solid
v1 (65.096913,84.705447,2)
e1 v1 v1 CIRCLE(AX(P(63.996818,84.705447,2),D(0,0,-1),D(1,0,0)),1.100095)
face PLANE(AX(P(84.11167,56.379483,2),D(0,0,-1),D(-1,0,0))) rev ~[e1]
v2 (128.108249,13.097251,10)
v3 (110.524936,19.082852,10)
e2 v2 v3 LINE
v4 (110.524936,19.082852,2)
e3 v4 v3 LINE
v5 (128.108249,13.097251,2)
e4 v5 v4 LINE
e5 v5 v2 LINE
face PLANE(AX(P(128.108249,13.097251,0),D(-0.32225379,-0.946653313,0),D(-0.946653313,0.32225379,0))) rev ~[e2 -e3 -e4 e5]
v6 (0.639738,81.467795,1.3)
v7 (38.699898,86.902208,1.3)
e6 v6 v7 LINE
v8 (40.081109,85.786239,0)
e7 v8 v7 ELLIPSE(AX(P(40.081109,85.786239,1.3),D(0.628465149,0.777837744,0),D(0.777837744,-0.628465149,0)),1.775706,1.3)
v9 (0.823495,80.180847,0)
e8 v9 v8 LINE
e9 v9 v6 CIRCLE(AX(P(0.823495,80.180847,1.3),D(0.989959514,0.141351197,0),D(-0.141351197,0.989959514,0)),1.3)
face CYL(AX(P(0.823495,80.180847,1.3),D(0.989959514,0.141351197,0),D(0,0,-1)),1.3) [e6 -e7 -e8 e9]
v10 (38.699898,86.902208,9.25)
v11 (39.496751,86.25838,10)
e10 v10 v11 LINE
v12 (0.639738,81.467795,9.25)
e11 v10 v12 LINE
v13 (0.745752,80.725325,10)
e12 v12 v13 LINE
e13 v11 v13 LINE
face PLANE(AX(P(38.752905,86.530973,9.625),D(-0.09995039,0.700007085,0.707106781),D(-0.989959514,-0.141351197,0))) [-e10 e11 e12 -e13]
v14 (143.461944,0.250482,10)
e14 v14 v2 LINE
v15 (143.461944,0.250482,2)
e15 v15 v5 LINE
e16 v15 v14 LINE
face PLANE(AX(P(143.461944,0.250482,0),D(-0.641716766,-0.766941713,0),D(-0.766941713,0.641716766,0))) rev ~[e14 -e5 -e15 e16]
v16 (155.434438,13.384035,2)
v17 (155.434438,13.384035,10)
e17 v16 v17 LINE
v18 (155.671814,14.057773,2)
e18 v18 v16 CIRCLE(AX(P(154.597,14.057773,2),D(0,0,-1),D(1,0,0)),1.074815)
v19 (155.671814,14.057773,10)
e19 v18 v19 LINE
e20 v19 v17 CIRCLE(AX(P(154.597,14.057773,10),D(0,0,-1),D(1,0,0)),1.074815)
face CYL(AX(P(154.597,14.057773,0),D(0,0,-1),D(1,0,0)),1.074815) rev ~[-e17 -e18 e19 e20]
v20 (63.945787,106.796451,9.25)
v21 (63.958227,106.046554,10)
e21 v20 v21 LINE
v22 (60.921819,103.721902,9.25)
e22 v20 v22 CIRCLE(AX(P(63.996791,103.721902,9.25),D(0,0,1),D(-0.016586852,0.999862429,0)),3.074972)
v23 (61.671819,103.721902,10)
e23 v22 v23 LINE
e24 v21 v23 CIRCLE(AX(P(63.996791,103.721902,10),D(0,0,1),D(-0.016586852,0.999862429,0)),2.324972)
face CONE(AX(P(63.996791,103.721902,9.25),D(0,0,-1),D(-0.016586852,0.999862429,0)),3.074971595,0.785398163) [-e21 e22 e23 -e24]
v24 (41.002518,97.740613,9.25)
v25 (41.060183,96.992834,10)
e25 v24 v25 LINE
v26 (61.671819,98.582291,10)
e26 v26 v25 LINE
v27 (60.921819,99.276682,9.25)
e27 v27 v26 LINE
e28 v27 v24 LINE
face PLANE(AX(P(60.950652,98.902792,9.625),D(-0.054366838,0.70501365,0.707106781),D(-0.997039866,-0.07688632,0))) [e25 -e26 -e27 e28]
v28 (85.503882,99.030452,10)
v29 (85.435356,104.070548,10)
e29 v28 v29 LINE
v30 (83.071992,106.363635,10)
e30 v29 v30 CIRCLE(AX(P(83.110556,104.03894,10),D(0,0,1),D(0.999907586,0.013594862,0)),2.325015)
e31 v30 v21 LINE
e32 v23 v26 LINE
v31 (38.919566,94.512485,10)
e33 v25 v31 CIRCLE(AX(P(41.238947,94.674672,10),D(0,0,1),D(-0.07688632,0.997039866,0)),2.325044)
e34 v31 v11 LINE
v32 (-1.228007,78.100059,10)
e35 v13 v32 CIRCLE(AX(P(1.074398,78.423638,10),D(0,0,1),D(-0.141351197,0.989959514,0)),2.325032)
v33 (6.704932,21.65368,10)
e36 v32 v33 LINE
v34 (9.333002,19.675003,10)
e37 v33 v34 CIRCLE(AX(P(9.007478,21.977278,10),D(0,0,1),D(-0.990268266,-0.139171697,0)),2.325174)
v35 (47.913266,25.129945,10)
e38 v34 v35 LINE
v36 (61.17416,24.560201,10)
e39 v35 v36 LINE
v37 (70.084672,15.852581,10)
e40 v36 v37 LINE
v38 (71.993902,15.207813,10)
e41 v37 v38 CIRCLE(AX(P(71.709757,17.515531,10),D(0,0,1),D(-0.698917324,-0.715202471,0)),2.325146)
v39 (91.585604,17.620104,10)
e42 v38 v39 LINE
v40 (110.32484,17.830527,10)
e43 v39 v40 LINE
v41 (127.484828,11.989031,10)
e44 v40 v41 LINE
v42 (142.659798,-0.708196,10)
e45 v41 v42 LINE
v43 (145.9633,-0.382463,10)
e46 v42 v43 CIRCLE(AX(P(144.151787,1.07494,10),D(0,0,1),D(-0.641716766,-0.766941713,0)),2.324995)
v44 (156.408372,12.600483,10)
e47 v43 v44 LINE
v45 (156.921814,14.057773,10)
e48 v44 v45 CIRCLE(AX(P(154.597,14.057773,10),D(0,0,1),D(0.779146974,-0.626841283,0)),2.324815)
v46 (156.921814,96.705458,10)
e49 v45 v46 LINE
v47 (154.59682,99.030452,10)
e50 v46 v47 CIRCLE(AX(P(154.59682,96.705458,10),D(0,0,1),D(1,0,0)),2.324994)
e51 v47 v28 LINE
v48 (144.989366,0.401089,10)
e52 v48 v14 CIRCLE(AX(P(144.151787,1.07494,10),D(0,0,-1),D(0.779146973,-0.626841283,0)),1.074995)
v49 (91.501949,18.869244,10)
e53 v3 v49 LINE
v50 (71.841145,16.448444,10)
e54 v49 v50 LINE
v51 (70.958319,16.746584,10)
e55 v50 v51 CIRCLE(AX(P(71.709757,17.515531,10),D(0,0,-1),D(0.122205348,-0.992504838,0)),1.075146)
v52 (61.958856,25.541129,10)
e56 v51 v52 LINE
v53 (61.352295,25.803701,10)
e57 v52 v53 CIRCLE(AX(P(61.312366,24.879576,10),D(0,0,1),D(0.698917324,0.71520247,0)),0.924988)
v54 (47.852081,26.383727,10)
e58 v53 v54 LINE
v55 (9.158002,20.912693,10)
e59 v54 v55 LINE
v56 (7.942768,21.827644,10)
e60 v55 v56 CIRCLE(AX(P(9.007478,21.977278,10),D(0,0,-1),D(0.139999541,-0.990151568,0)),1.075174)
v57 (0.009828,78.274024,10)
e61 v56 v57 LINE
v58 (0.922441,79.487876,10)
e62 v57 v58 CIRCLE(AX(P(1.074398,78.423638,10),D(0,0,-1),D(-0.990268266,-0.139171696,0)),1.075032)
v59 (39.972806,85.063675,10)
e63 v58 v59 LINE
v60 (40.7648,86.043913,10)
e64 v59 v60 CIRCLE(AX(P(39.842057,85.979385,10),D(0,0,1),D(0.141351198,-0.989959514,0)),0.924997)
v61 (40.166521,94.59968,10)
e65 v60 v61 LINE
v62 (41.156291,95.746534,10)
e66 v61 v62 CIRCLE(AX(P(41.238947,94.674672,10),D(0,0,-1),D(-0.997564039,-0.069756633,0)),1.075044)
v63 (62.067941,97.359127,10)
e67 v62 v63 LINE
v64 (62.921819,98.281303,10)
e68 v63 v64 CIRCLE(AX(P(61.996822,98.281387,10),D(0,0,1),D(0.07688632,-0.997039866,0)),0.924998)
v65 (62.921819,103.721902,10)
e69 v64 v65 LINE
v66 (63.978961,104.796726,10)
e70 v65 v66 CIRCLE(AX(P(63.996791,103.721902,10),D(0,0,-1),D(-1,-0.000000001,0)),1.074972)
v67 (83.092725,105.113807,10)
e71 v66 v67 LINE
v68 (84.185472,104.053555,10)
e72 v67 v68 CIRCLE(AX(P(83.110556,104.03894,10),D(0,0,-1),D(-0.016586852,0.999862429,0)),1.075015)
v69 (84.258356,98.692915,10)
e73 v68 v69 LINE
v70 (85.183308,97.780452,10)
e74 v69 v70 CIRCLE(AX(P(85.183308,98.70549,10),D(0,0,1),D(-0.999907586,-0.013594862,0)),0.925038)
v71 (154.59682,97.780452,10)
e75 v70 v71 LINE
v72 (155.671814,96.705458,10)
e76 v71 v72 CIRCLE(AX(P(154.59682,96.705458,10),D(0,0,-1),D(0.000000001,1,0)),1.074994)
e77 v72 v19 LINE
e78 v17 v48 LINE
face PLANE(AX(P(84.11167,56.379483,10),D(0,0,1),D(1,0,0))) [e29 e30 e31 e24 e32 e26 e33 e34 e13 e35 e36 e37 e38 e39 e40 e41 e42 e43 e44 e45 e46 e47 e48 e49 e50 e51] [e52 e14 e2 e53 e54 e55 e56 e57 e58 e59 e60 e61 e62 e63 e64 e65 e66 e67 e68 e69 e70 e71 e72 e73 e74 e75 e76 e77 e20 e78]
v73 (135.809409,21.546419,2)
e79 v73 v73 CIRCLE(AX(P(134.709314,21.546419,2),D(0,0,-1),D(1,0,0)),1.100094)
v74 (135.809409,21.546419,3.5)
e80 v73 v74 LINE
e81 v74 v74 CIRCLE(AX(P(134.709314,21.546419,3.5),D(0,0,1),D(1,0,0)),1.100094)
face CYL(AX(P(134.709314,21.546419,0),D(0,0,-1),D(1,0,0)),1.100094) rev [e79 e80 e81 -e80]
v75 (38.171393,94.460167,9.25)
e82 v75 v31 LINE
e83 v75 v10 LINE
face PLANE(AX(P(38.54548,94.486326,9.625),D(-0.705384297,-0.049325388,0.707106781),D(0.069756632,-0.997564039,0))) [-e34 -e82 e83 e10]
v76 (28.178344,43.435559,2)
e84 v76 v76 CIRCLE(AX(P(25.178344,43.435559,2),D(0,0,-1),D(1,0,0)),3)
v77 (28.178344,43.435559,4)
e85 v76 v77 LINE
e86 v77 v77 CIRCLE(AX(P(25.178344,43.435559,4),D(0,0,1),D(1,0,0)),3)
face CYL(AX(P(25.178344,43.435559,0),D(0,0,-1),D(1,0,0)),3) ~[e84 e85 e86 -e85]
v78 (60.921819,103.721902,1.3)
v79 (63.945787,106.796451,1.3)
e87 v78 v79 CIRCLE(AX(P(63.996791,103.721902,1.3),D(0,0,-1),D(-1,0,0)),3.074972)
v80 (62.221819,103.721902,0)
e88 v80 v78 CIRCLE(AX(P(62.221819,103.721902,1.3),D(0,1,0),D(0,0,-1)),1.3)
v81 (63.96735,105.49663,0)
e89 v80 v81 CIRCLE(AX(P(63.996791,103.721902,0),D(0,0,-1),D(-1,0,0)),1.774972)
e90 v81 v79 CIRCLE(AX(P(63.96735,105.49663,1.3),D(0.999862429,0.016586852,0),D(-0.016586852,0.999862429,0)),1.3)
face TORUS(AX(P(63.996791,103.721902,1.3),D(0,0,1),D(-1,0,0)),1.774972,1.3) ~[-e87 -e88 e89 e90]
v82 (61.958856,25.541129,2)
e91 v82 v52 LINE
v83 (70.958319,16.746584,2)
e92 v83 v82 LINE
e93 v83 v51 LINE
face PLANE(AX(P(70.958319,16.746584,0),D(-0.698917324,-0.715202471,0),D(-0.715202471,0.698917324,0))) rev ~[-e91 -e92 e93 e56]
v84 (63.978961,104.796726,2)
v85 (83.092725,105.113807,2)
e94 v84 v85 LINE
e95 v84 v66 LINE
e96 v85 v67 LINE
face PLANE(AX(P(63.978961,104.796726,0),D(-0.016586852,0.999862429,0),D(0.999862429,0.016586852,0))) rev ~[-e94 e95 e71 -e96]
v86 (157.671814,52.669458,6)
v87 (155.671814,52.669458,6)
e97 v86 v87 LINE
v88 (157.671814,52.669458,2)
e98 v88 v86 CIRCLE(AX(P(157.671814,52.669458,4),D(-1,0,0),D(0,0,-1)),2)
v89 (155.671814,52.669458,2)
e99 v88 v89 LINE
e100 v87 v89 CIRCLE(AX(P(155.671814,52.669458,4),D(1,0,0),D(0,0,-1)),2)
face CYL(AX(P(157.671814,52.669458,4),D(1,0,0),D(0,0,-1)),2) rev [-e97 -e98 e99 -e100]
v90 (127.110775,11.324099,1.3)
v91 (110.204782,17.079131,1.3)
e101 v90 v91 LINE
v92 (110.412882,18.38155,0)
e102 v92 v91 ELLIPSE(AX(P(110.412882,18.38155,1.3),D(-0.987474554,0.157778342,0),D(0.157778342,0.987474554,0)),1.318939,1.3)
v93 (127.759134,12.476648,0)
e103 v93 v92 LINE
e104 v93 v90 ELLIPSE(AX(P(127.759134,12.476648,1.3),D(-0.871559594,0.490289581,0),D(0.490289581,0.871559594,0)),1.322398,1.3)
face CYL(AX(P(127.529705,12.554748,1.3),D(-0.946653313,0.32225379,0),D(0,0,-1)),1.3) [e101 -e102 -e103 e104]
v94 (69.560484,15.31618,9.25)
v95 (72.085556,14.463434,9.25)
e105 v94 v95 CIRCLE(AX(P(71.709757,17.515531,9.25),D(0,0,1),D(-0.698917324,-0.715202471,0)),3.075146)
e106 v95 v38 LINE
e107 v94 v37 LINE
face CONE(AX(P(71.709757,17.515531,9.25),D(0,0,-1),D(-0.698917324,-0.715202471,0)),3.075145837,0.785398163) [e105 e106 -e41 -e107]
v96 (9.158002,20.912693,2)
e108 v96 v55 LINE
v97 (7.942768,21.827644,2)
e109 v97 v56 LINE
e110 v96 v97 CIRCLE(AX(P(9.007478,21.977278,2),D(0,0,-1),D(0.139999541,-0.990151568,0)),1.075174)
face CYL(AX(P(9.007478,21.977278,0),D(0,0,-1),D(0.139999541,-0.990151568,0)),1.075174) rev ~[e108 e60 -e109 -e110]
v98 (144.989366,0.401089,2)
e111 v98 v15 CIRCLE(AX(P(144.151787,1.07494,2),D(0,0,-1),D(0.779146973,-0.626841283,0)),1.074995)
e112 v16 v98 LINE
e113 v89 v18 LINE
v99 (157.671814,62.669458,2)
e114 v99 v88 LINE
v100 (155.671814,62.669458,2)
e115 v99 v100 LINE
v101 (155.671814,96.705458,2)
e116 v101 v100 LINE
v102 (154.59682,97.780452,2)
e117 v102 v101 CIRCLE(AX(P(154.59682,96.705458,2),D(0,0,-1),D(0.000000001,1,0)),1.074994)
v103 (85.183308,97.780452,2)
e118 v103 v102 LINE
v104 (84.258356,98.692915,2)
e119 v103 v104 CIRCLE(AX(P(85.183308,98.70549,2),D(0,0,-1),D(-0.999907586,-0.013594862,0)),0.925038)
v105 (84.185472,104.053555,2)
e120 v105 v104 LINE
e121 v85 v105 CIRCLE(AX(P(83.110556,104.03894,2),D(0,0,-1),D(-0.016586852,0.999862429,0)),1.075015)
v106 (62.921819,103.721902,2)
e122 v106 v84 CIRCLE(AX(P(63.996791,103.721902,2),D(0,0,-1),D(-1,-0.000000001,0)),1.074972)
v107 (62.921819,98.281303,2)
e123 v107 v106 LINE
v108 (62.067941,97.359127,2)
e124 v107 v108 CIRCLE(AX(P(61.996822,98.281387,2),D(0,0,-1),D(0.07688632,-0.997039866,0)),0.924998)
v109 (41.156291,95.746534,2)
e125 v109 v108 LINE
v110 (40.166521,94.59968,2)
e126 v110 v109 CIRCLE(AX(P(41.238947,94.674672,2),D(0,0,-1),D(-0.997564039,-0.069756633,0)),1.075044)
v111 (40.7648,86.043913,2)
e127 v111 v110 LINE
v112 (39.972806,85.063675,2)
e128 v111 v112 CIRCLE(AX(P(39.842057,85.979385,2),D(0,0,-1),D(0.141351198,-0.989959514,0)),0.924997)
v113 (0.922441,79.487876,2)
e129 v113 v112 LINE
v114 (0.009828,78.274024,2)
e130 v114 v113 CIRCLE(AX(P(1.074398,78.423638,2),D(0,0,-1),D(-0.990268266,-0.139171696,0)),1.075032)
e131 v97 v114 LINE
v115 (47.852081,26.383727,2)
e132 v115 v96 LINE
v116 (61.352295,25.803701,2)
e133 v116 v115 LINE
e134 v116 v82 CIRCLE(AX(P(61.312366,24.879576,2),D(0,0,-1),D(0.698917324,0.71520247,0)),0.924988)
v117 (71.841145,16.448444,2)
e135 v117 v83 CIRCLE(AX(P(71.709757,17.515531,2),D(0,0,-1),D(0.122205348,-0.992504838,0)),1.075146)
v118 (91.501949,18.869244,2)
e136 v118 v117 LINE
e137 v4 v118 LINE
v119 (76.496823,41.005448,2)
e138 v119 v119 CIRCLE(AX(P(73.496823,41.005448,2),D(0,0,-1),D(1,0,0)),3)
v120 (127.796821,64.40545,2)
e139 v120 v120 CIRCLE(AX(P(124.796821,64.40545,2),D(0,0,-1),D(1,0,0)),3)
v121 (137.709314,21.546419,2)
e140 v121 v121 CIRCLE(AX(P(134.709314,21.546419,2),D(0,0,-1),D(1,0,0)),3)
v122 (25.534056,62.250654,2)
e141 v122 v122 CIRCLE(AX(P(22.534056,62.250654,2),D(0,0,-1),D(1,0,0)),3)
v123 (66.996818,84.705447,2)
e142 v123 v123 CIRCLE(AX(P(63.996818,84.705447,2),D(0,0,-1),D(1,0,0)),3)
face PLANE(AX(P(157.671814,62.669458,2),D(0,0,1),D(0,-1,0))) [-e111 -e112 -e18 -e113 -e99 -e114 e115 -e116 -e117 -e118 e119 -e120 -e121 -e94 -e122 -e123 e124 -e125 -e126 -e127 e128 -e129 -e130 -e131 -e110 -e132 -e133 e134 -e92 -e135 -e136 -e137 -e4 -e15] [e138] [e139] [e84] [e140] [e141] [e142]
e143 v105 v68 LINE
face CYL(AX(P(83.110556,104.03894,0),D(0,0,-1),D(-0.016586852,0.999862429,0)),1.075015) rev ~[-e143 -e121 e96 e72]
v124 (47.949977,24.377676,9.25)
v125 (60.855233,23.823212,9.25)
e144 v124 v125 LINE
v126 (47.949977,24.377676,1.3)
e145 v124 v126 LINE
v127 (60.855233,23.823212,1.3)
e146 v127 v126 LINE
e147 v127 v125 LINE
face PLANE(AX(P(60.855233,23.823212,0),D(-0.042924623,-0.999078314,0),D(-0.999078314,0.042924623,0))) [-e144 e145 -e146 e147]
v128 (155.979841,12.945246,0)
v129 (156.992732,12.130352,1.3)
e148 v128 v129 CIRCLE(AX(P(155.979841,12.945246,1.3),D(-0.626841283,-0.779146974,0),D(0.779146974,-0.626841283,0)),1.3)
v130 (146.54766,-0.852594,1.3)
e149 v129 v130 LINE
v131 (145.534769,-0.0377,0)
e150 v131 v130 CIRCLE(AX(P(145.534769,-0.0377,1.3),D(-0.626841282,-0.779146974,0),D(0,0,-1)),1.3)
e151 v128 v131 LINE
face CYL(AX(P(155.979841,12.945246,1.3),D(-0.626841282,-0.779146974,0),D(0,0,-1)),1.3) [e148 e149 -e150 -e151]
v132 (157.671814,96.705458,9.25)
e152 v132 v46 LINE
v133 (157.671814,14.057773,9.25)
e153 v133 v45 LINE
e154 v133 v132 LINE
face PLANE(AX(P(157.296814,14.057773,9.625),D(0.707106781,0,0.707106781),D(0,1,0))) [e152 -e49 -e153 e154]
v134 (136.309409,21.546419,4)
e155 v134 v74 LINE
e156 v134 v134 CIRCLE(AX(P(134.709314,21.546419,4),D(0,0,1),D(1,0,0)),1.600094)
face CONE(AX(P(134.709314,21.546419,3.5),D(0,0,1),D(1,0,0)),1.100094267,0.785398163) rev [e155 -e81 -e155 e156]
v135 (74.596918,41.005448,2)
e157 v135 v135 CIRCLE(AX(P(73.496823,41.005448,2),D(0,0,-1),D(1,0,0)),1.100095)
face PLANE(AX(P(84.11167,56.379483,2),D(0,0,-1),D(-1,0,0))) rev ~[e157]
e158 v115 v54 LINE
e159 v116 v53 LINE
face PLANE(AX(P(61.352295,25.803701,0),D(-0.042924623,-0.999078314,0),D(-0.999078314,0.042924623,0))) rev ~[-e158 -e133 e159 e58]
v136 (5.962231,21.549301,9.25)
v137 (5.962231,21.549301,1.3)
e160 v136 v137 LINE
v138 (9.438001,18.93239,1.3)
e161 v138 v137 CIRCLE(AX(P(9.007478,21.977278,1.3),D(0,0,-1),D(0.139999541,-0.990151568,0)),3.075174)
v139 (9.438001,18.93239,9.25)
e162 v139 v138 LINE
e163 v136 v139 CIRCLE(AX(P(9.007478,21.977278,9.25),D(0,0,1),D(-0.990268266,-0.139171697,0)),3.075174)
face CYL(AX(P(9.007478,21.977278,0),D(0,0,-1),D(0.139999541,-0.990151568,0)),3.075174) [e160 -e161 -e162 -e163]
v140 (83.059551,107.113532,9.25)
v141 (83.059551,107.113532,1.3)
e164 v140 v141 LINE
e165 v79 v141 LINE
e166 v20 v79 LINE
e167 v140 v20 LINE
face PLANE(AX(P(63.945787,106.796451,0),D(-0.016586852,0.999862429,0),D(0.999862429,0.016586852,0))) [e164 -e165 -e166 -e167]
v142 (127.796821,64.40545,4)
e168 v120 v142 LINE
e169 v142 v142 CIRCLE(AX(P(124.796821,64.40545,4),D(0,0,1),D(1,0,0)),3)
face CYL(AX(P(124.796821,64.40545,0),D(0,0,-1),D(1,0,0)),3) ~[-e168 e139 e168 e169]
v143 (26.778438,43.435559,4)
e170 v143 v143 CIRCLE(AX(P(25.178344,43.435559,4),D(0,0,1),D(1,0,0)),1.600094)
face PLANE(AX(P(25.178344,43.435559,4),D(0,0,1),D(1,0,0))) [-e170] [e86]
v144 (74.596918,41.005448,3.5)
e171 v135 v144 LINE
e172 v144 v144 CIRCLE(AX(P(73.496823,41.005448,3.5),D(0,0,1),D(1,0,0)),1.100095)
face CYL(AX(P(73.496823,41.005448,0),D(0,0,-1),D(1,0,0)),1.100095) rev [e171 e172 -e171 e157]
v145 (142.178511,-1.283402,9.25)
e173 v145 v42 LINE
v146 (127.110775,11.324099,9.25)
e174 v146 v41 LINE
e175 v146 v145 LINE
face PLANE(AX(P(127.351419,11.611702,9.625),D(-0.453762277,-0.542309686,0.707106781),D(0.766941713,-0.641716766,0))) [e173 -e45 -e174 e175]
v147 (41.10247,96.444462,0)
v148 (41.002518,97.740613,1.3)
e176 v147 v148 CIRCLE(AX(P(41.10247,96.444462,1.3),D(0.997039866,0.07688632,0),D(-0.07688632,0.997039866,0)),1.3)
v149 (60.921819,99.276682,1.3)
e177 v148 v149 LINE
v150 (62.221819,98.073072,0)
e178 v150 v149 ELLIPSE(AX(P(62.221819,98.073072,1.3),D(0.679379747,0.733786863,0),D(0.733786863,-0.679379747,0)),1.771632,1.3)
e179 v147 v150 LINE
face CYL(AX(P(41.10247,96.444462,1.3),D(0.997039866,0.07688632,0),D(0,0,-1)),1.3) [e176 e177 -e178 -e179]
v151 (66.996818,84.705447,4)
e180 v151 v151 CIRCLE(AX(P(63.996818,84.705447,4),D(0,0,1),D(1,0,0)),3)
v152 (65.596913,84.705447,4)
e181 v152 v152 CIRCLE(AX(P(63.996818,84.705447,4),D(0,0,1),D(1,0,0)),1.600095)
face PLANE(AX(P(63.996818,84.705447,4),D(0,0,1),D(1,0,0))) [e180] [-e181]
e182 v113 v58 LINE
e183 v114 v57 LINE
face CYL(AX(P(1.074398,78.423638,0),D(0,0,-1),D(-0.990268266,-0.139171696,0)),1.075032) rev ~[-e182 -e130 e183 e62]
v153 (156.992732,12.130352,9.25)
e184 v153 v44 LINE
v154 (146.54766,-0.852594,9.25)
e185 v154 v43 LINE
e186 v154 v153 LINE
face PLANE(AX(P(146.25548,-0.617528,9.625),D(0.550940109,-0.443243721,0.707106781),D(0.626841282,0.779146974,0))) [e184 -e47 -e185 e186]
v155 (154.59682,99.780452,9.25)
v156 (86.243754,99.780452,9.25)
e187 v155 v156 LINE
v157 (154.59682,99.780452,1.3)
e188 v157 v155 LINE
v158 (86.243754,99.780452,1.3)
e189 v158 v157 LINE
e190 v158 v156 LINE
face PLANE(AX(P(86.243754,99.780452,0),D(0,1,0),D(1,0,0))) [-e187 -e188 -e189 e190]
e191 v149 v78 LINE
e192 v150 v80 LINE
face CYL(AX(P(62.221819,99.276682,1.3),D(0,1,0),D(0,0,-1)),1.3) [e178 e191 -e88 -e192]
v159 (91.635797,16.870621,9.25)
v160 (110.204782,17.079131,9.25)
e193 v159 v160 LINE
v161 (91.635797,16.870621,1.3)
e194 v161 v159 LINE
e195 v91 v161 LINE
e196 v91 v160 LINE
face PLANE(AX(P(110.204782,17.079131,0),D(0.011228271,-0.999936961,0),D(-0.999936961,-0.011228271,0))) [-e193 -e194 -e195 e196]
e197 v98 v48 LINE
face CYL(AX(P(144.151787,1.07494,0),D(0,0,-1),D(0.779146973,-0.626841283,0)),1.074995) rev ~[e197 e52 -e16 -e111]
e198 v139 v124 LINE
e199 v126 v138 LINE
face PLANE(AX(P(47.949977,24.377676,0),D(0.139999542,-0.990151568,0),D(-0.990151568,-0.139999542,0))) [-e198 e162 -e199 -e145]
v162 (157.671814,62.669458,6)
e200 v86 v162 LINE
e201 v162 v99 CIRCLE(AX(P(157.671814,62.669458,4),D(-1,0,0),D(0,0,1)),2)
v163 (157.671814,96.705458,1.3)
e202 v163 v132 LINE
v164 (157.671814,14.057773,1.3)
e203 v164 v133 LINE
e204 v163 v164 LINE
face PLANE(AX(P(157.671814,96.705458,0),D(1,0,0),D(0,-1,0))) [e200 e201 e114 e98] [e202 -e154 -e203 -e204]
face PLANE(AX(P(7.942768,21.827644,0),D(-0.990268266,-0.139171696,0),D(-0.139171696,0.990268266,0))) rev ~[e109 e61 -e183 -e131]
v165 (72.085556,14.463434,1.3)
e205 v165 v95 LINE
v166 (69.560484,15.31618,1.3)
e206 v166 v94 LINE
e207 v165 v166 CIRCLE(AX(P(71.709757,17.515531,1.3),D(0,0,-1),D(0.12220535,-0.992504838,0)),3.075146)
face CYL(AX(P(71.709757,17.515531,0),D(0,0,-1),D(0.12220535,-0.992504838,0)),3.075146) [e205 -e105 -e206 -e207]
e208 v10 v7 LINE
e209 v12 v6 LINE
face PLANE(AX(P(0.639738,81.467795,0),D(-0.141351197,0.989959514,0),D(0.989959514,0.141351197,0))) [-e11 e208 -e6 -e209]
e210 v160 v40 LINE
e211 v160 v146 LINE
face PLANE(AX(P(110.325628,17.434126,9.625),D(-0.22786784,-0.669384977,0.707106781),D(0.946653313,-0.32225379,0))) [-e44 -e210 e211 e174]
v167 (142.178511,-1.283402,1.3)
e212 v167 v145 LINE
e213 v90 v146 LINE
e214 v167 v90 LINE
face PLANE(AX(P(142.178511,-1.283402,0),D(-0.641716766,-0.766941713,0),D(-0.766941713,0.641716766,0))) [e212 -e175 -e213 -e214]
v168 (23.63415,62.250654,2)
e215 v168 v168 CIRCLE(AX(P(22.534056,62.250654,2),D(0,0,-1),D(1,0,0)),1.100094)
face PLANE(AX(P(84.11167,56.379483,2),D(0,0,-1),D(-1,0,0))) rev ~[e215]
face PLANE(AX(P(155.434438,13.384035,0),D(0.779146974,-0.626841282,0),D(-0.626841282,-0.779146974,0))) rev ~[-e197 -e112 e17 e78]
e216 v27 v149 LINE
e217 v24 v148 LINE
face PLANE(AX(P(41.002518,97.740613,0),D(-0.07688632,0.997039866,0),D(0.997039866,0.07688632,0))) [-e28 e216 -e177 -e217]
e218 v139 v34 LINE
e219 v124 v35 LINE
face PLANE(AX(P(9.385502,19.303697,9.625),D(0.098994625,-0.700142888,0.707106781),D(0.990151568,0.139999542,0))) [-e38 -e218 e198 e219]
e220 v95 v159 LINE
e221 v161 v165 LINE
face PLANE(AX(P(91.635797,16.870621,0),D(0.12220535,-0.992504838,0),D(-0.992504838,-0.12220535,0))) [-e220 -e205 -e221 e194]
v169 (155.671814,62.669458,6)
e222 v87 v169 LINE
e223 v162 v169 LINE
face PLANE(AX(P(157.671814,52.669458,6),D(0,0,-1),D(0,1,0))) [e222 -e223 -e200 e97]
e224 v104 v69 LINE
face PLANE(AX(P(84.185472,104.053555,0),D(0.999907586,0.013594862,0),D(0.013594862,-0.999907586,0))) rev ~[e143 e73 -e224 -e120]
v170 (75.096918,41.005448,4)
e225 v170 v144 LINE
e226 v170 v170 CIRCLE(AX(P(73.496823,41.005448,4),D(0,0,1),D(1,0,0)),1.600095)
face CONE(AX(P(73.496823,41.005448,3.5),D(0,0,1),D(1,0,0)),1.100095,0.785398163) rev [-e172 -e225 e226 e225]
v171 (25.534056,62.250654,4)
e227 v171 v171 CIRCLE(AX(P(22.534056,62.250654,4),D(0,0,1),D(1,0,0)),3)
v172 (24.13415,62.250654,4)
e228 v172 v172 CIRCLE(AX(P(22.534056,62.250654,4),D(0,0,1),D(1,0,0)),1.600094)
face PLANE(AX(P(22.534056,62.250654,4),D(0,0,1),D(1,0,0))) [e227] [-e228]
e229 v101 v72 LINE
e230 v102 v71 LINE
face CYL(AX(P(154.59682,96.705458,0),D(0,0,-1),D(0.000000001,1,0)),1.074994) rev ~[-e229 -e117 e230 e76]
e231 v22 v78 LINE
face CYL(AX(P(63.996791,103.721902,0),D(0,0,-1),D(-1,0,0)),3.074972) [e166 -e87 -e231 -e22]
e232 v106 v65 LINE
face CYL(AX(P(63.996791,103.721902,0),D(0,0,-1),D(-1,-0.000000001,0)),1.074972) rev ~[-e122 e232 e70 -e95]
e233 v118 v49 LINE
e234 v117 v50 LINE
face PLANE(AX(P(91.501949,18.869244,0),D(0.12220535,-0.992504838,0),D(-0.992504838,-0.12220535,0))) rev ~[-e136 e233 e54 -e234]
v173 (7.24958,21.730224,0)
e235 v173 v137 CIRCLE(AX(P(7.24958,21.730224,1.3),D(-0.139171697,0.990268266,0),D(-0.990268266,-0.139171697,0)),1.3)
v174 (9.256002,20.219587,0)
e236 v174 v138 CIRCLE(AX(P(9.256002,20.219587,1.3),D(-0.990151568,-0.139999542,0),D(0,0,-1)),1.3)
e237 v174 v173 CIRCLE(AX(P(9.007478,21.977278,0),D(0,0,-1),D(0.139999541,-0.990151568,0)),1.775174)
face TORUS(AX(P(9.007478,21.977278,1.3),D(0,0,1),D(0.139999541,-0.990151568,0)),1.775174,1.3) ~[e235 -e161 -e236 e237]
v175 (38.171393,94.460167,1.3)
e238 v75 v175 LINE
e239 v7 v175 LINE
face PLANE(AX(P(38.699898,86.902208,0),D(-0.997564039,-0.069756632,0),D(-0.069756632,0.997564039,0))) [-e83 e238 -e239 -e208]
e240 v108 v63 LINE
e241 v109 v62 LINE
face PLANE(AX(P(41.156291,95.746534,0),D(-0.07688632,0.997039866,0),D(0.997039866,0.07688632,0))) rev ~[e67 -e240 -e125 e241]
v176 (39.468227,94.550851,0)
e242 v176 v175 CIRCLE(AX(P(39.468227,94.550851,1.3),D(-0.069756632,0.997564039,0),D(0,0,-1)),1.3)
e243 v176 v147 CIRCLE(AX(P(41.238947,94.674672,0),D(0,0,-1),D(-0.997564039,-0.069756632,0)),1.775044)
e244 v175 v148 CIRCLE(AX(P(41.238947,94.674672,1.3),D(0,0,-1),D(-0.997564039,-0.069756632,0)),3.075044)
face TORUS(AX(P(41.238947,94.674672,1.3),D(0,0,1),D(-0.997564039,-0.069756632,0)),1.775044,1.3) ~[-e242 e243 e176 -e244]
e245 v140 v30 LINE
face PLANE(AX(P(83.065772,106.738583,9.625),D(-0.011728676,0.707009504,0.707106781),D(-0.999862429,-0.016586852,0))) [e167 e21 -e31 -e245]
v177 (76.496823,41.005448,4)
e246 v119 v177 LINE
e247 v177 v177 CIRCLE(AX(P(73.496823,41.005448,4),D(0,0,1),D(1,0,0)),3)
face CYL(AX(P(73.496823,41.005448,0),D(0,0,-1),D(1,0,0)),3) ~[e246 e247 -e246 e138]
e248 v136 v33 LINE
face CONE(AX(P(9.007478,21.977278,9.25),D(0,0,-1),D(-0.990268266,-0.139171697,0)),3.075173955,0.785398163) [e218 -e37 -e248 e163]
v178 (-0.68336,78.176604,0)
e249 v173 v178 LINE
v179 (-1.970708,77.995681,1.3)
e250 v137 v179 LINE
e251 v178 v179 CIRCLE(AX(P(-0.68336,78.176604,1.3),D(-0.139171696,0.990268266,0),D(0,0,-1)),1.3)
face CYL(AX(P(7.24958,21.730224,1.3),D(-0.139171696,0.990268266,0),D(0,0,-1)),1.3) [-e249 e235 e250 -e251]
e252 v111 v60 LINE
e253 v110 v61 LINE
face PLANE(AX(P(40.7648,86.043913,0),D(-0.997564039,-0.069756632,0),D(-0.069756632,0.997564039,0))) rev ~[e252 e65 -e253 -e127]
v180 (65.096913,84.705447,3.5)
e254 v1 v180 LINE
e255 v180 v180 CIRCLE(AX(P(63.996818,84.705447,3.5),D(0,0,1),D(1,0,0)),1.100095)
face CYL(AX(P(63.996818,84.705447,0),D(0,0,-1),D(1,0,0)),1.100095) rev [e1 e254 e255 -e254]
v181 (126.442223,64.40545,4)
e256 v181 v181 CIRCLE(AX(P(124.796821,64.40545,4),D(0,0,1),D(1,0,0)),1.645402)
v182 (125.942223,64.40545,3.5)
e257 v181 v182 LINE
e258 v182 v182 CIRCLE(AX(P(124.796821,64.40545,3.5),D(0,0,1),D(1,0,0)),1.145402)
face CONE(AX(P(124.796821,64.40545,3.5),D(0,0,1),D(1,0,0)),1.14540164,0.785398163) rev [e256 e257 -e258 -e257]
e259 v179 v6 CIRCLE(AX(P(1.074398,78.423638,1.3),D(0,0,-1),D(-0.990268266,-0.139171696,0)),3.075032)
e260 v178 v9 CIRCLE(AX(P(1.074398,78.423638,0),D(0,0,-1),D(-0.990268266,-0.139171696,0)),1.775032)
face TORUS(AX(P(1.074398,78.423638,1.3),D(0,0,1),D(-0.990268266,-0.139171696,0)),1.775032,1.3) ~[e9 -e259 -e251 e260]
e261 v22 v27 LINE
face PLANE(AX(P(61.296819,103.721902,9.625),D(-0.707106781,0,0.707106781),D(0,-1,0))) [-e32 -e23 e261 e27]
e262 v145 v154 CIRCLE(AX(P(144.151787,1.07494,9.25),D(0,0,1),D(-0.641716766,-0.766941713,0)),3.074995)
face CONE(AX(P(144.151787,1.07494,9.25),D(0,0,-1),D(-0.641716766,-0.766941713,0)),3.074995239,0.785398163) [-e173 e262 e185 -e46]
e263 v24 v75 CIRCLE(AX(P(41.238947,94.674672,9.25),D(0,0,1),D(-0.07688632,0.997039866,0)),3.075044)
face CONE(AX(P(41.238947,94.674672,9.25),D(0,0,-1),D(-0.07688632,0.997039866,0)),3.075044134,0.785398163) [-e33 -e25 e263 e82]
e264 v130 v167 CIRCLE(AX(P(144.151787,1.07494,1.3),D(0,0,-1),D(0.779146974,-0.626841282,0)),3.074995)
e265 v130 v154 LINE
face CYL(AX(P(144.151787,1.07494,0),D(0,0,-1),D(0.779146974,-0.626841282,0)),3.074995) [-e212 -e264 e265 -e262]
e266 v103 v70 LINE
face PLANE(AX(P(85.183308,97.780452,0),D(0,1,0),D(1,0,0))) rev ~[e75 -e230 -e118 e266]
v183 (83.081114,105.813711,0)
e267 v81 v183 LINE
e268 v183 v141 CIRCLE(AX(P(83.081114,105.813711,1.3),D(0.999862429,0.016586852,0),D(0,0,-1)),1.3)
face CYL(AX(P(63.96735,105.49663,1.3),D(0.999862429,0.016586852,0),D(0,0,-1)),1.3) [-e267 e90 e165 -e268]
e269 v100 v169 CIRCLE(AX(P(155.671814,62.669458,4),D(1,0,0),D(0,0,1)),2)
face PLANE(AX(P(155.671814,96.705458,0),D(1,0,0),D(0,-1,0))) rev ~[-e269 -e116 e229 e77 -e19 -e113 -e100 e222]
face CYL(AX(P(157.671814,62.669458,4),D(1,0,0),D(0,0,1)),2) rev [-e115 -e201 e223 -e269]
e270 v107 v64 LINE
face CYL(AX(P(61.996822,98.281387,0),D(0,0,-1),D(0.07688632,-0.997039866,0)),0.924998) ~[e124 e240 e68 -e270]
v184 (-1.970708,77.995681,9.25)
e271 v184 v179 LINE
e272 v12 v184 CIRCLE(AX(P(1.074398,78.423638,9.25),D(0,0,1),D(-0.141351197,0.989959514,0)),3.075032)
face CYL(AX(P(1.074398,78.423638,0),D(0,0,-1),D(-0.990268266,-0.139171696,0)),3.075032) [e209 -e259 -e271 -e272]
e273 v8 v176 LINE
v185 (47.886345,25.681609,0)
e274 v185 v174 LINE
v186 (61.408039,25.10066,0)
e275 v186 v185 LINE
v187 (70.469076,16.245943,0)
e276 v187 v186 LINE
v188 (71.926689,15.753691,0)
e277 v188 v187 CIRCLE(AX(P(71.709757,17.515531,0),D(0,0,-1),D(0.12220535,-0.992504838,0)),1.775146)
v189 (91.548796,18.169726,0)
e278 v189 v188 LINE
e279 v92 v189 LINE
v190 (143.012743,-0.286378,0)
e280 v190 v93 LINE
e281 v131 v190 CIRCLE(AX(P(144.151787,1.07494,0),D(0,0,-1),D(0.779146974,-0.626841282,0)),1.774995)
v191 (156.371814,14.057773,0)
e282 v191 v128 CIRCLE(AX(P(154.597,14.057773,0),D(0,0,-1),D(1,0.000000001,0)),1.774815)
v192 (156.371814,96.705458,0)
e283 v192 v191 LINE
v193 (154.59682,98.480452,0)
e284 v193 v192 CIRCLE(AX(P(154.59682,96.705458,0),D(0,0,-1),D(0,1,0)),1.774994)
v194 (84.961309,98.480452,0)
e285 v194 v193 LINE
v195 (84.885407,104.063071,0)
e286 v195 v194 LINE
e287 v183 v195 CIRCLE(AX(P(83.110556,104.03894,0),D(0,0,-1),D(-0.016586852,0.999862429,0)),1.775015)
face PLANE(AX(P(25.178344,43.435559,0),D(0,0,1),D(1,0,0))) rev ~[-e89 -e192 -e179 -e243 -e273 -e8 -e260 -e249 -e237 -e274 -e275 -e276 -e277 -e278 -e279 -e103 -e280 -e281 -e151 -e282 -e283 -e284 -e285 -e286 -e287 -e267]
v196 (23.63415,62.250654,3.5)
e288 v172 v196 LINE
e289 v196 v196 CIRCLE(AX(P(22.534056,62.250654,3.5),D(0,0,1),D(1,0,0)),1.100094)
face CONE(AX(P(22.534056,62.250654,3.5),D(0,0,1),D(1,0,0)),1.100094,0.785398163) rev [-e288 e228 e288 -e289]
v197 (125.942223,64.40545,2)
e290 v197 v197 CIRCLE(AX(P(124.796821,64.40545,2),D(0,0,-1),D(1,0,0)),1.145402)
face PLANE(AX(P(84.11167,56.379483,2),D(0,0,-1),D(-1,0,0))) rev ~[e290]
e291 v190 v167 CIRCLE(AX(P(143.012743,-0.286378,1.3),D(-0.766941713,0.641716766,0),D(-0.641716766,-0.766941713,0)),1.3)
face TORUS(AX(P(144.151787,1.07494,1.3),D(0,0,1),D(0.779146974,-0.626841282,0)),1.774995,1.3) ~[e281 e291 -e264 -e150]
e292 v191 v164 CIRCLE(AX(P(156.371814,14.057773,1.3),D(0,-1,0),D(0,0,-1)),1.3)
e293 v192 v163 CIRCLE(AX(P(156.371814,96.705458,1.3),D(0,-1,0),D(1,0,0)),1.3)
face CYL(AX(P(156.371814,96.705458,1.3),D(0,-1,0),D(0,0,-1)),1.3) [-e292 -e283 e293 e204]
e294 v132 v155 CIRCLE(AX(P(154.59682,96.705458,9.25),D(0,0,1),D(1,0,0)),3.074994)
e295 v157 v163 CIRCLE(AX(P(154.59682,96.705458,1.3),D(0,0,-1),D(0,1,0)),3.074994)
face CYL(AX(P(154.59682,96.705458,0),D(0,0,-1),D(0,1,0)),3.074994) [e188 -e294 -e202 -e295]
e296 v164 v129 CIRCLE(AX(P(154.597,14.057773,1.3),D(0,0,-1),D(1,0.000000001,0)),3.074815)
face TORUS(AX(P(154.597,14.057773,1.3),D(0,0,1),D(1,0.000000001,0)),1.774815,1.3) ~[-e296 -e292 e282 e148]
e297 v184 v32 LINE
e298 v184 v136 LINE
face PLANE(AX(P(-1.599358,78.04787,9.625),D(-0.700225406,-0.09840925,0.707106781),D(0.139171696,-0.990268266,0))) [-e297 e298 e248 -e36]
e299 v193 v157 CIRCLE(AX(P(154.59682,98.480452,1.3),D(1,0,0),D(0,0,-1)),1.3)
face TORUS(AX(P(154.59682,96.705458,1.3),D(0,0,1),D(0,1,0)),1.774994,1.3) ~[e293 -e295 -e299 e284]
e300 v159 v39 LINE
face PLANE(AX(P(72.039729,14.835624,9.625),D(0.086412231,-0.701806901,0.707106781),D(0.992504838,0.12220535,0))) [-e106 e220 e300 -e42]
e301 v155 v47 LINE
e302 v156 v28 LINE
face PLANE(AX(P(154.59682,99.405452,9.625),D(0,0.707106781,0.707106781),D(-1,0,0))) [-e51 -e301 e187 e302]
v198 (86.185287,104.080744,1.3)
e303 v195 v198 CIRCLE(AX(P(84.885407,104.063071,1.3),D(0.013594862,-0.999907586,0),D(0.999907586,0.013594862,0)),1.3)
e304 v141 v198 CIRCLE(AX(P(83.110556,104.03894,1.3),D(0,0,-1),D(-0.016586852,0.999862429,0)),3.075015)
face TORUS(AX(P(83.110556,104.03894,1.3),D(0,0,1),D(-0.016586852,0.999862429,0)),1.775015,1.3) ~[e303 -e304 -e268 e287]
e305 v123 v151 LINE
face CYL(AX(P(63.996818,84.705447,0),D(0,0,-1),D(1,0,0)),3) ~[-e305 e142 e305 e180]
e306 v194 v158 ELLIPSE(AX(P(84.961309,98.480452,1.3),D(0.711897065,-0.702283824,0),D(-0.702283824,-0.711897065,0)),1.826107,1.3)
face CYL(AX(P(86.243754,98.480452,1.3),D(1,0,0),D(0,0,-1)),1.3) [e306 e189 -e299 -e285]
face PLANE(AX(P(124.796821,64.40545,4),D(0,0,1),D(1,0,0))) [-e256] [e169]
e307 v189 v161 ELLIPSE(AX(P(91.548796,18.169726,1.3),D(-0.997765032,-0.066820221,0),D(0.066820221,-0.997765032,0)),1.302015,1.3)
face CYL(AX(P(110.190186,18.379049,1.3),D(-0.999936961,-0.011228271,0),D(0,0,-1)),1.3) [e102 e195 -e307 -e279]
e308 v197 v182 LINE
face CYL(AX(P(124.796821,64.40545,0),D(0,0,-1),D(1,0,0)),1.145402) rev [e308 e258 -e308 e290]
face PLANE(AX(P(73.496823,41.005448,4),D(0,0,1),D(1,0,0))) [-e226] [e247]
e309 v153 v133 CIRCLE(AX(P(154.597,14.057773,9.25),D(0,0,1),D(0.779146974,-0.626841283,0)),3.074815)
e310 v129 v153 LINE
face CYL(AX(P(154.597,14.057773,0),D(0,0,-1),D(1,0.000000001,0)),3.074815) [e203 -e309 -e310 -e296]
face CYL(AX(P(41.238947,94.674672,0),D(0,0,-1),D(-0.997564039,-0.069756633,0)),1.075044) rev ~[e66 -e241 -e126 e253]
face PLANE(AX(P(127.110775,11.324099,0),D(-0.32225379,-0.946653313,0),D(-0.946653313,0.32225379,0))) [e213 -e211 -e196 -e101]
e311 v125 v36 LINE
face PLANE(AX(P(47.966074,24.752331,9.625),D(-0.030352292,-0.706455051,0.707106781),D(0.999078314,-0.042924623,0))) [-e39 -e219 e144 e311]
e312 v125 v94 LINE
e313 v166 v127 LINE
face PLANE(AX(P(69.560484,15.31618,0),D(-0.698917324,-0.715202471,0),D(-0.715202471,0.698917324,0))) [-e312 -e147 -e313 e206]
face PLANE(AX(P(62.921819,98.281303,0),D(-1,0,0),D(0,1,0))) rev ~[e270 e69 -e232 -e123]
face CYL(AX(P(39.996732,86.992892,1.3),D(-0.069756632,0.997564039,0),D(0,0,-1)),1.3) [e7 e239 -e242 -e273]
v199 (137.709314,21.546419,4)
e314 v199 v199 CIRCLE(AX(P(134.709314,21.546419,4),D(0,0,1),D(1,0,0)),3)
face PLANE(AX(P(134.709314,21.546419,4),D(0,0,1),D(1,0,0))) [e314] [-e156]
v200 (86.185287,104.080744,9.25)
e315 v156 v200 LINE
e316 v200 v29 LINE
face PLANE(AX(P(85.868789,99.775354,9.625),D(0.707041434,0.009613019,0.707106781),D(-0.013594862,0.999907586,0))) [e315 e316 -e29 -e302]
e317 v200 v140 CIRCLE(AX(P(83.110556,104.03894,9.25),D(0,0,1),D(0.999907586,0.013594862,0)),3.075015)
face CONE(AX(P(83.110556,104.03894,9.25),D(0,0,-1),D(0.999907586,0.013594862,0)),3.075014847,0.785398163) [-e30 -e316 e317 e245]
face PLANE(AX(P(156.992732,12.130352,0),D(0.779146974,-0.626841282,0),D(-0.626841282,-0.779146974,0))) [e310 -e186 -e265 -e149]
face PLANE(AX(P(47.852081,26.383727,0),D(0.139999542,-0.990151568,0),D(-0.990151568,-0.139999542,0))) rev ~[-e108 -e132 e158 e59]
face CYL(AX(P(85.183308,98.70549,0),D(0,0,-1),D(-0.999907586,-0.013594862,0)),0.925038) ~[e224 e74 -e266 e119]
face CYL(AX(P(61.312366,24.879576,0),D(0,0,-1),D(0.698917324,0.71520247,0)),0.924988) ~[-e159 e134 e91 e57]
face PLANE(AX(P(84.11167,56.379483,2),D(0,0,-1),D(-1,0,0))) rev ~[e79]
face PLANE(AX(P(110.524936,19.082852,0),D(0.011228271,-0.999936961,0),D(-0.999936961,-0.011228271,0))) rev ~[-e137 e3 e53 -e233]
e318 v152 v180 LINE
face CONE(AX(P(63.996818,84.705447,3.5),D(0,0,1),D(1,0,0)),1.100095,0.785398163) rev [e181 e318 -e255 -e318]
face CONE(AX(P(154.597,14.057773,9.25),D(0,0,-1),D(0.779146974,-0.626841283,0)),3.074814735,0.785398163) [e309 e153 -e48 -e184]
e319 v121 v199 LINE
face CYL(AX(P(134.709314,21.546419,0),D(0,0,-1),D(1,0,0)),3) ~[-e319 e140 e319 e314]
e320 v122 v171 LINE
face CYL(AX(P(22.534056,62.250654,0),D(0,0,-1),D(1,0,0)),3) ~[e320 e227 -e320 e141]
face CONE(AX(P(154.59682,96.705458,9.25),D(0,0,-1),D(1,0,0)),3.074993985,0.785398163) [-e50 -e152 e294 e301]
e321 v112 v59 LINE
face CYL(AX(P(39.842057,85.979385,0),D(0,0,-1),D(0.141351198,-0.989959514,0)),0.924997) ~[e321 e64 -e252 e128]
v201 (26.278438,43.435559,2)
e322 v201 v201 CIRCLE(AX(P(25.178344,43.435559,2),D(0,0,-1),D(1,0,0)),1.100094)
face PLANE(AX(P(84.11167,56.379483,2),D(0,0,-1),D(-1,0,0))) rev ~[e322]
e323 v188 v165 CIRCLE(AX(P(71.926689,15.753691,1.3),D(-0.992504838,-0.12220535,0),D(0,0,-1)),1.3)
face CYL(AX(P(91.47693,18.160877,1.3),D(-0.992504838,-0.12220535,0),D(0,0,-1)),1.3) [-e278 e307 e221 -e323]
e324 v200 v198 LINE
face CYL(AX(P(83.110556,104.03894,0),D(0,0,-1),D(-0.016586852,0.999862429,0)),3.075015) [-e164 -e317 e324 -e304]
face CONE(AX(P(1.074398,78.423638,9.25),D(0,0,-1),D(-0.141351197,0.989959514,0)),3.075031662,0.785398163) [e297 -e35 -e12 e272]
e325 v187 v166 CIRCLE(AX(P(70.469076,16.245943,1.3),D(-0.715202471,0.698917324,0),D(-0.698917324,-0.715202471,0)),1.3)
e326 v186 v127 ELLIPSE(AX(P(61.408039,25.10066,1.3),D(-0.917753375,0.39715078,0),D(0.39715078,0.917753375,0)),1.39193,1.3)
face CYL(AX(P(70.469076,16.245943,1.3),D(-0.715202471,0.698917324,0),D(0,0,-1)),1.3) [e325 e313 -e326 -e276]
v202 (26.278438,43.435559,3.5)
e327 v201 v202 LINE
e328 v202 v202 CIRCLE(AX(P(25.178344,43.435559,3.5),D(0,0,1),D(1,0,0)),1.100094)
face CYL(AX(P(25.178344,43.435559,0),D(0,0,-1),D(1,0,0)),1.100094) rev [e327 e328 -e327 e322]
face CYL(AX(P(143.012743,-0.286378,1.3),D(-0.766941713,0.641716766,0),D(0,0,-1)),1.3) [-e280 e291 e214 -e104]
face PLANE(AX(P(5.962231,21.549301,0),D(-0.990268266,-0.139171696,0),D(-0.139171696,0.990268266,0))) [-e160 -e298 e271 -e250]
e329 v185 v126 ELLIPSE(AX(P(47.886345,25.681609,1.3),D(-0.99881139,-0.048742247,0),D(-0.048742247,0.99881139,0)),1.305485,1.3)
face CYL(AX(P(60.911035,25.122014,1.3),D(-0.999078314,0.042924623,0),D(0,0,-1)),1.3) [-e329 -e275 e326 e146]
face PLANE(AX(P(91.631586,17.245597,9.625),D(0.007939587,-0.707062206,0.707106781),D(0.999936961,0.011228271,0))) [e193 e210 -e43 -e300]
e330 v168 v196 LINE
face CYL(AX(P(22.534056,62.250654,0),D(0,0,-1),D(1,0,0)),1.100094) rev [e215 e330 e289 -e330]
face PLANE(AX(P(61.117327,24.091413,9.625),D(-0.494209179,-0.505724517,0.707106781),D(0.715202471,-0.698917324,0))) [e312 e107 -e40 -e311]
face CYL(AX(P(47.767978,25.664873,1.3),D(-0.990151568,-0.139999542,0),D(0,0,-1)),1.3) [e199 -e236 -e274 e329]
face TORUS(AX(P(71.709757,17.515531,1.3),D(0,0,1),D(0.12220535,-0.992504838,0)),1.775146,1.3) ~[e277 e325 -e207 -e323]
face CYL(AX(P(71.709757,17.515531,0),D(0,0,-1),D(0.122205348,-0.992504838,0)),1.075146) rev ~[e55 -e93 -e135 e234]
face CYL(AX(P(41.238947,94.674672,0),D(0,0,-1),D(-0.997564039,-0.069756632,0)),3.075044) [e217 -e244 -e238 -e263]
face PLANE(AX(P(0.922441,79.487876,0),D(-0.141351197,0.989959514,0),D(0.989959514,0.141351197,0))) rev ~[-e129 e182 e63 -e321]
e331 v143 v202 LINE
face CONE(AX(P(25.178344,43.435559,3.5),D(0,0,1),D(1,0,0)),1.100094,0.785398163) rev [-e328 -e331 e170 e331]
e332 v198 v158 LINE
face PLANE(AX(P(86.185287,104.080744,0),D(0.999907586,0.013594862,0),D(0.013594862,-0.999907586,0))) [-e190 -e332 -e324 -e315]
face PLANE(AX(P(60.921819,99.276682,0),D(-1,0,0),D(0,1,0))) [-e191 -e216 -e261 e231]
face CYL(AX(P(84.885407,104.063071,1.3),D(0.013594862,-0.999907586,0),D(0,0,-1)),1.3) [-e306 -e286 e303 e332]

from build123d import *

# Parameters (mm, degrees)
BOSS_EXTRUDE1_DEPTH = 2
BOSS_EXTRUDE2_DEPTH = 10
SKETCH7_R           = 3
SKETCH7_R_2         = 1.100094
SKETCH7_R_3         = 1.100095
SKETCH7_R_4         = 1.14540164
SKETCH7_R_5         = 1.100094267
BOSS_EXTRUDE3_DEPTH = 4
CUT_EXTRUDE1_DEPTH  = 3
FILLET2_R           = 1.3
CHAMFER1_SIZE       = 0.75
CHAMFER2_SIZE       = 0.5


with BuildPart() as part:
    # Sketch3 → Boss-Extrude1 (new body)
    with BuildSketch(Plane.XY):
        with BuildLine():
            Line((60.855233133, 23.823211938), (47.949977192, 24.377676222))
            Line((47.949977192, 24.377676222), (9.438001399, 18.932389733))
            ThreePointArc((9.438001399, 18.932389733), (7.157815869, 19.520564151), (5.962231275, 21.549300871))
            Line((5.962231275, 21.549300871), (-1.970708405, 77.995680607))
            ThreePointArc((-1.970708405, 77.995680607), (-1.383464331, 80.271537635), (0.639738461, 81.467794829))
            Line((0.639738461, 81.467794829), (38.699898469, 86.902208152))
            Line((38.699898469, 86.902208152), (38.171393284, 94.460167157))
            ThreePointArc((38.171393284, 94.460167157), (38.910984807, 96.683773594), (41.002517903, 97.740613468))
            Line((41.002517903, 97.740613468), (60.921819416, 99.276682226))
            Line((60.921819416, 99.276682226), (60.921819416, 103.721902307))
            ThreePointArc((60.921819416, 103.721902307), (61.804499235, 105.878127499), (63.945786912, 106.796450874))
            Line((63.945786912, 106.796450874), (83.059551455, 107.113531682))
            ThreePointArc((83.059551455, 107.113531682), (85.251859467, 106.245869167), (86.185286941, 104.080744272))
            Line((86.185286941, 104.080744272), (86.24375422, 99.780452187))
            Line((86.24375422, 99.780452187), (154.596820419, 99.780452187))
            ThreePointArc((154.596820419, 99.780452187), (156.771169517, 98.879807301), (157.671814403, 96.705458202))
            Line((157.671814403, 96.705458202), (157.671814403, 14.057773112))
            ThreePointArc((157.671814403, 14.057773112), (157.497078938, 13.035997261), (156.992732263, 12.130352296))
            Line((156.992732263, 12.130352296), (146.547659954, -0.852593653))
            ThreePointArc((146.547659954, -0.852593653), (144.453525054, -1.98521487), (142.178510717, -1.283401812))
            Line((142.178510717, -1.283401812), (127.110775499, 11.324099062))
            Line((127.110775499, 11.324099062), (110.204782414, 17.079131321))
            Line((110.204782414, 17.079131321), (91.635796855, 16.870620568))
            Line((91.635796855, 16.870620568), (72.085555936, 14.46343429))
            ThreePointArc((72.085555936, 14.46343429), (70.725838171, 14.602041008), (69.560483965, 15.316179508))
            Line((69.560483965, 15.316179508), (60.855233133, 23.823211938))
        make_face()
    extrude(amount=BOSS_EXTRUDE1_DEPTH)

    # Sketch4 → Boss-Extrude2 (add)
    with BuildSketch(Plane.XY):
        with BuildLine():
            Line((47.949977192, 24.377676222), (60.855233133, 23.823211938))
            Line((60.855233133, 23.823211938), (69.560483965, 15.316179508))
            ThreePointArc((69.560483965, 15.316179508), (70.725838171, 14.602041008), (72.085555936, 14.46343429))
            Line((72.085555936, 14.46343429), (91.635796855, 16.870620568))
            Line((91.635796855, 16.870620568), (110.204782414, 17.079131321))
            Line((110.204782414, 17.079131321), (127.110775499, 11.324099062))
            Line((127.110775499, 11.324099062), (142.178510717, -1.283401812))
            ThreePointArc((142.178510717, -1.283401812), (144.453525054, -1.98521487), (146.547659954, -0.852593653))
            Line((146.547659954, -0.852593653), (156.992732263, 12.130352296))
            ThreePointArc((156.992732263, 12.130352296), (157.497078938, 13.035997261), (157.671814403, 14.057773112))
            Line((157.671814403, 14.057773112), (157.671814403, 96.705458202))
            ThreePointArc((157.671814403, 96.705458202), (156.771169517, 98.879807301), (154.596820419, 99.780452187))
            Line((154.596820419, 99.780452187), (86.24375422, 99.780452187))
            Line((86.24375422, 99.780452187), (86.185286941, 104.080744272))
            ThreePointArc((86.185286941, 104.080744272), (85.251859467, 106.245869167), (83.059551455, 107.113531682))
            Line((83.059551455, 107.113531682), (63.945786912, 106.796450874))
            ThreePointArc((63.945786912, 106.796450874), (61.804499235, 105.878127499), (60.921819416, 103.721902307))
            Line((60.921819416, 103.721902307), (60.921819416, 99.276682226))
            Line((60.921819416, 99.276682226), (41.002517903, 97.740613468))
            ThreePointArc((41.002517903, 97.740613468), (38.910984807, 96.683773594), (38.171393284, 94.460167157))
            Line((38.171393284, 94.460167157), (38.699898469, 86.902208152))
            Line((38.699898469, 86.902208152), (0.639738461, 81.467794829))
            ThreePointArc((0.639738461, 81.467794829), (-1.383464331, 80.271537635), (-1.970708405, 77.995680607))
            Line((-1.970708405, 77.995680607), (5.962231275, 21.549300871))
            ThreePointArc((5.962231275, 21.549300871), (7.157815869, 19.520564151), (9.438001399, 18.932389733))
            Line((9.438001399, 18.932389733), (47.949977192, 24.377676222))
        make_face()
        with BuildLine():
            ThreePointArc((84.258355662, 98.692914663), (84.533669024, 98.04695842), (85.183308419, 97.780452187))
            Line((85.183308419, 97.780452187), (154.596820419, 97.780452187))
            ThreePointArc((154.596820419, 97.780452187), (155.356955955, 97.465593738), (155.671814403, 96.705458202))
            Line((155.671814403, 96.705458202), (155.671814403, 14.057773112))
            ThreePointArc((155.671814403, 14.057773112), (155.610734868, 13.70060696), (155.434438315, 13.38403486))
            Line((155.434438315, 13.38403486), (144.989366006, 0.401088911))
            ThreePointArc((144.989366006, 0.401088911), (144.257272174, 0.005133041), (143.461944249, 0.250481615))
            Line((143.461944249, 0.250481615), (128.108249423, 13.097251096))
            Line((128.108249423, 13.097251096), (110.524936275, 19.082852408))
            Line((110.524936275, 19.082852408), (91.501949272, 18.869243682))
            Line((91.501949272, 18.869243682), (71.841145237, 16.448443965))
            ThreePointArc((71.841145237, 16.448443965), (71.365754809, 16.496904248), (70.958318613, 16.74658445))
            Line((70.958318613, 16.74658445), (61.958856362, 25.54112911))
            ThreePointArc((61.958856362, 25.54112911), (61.679828995, 25.728441638), (61.352295386, 25.803701118))
            Line((61.352295386, 25.803701118), (47.852081394, 26.383727313))
            Line((47.852081394, 26.383727313), (9.158002316, 20.91269287))
            ThreePointArc((9.158002316, 20.91269287), (8.360780393, 21.118336461), (7.942767807, 21.827644264))
            Line((7.942767807, 21.827644264), (0.009828128, 78.274024))
            ThreePointArc((0.009828128, 78.274024), (0.215128769, 79.069664055), (0.922440855, 79.487875801))
            Line((0.922440855, 79.487875801), (39.972806225, 85.063675424))
            ThreePointArc((39.972806225, 85.063675424), (40.561555536, 85.398058084), (40.76480024, 86.043913413))
            Line((40.76480024, 86.043913413), (40.166521363, 94.599680421))
            ThreePointArc((40.166521363, 94.599680421), (40.425084652, 95.377059525), (41.156290542, 95.746533736))
            Line((41.156290542, 95.746533736), (62.067941403, 97.359127107))
            ThreePointArc((62.067941403, 97.359127107), (62.675544492, 97.652931317), (62.921819416, 98.281303094))
            Line((62.921819416, 98.281303094), (62.921819416, 103.721902307))
            ThreePointArc((62.921819416, 103.721902307), (63.230393236, 104.475691655), (63.978960617, 104.796726017))
            Line((63.978960617, 104.796726017), (83.09272516, 105.113806824))
            ThreePointArc((83.09272516, 105.113806824), (83.859148665, 104.810474928), (84.185471769, 104.053554549))
            Line((84.185471769, 104.053554549), (84.258355662, 98.692914663))
        make_face(mode=Mode.SUBTRACT)
    extrude(amount=BOSS_EXTRUDE2_DEPTH)

    # Sketch7 → Boss-Extrude3 (add)
    # profile 1 of 6: a face of its own
    with BuildSketch(Plane.XY):
        with Locations((25.178343626, 43.435558637)):
            Circle(SKETCH7_R)
        with Locations((25.178343626, 43.435558637)):
            Circle(SKETCH7_R_2, mode=Mode.SUBTRACT)
    # profile 2 of 6: a face of its own
    with BuildSketch(Plane.XY):
        with Locations((22.534055897, 62.250653675)):
            Circle(SKETCH7_R)
        with Locations((22.534055897, 62.250653675)):
            Circle(SKETCH7_R_2, mode=Mode.SUBTRACT)
    # profile 3 of 6: a face of its own
    with BuildSketch(Plane.XY):
        with Locations((63.99681822, 84.705447078)):
            Circle(SKETCH7_R)
        with Locations((63.99681822, 84.705447078)):
            Circle(SKETCH7_R_3, mode=Mode.SUBTRACT)
    # profile 4 of 6: a face of its own
    with BuildSketch(Plane.XY):
        with Locations((73.496822591, 41.005447941)):
            Circle(SKETCH7_R)
        with Locations((73.496822591, 41.005447941)):
            Circle(SKETCH7_R_3, mode=Mode.SUBTRACT)
    # profile 5 of 6: a face of its own
    with BuildSketch(Plane.XY):
        with Locations((124.796820928, 64.405450202)):
            Circle(SKETCH7_R)
        with Locations((124.796820928, 64.405450202)):
            Circle(SKETCH7_R_4, mode=Mode.SUBTRACT)
    # profile 6 of 6: a face of its own
    with BuildSketch(Plane.XY):
        with Locations((134.70931431, 21.546419059)):
            Circle(SKETCH7_R)
        with Locations((134.70931431, 21.546419059)):
            Circle(SKETCH7_R_5, mode=Mode.SUBTRACT)
    extrude(amount=BOSS_EXTRUDE3_DEPTH)

    # Sketch8 → Cut-Extrude1 (cut)
    with BuildSketch(Plane(origin=(157.671814403, 0, 0), x_dir=(0, 0, -1), z_dir=(1, 0, 0))):
        with BuildLine():
            Line((-2, 62.669458202), (-2, 52.669458202))
            ThreePointArc((-2, 52.669458202), (-4, 50.669458202), (-6, 52.669458202))
            Line((-6, 52.669458202), (-6, 62.669458202))
            ThreePointArc((-6, 62.669458202), (-4, 64.669458202), (-2, 62.669458202))
        make_face()
    extrude(amount=-CUT_EXTRUDE1_DEPTH, mode=Mode.SUBTRACT)

    # Fillet2
    fillet2_edges = [part.edges().sort_by_distance(p)[0] for p in [
        (65.207858549, 19.569695723, 0),
        (54.402605163, 24.10044408, 0),
        (28.693989296, 21.655032978, 0),
        (7.157815869, 19.520564151, 0),
        (1.995761435, 49.772490739, 0),
        (-1.383464331, 80.271537635, 0),
        (19.669818465, 84.18500149, 0),
        (38.435645877, 90.681187654, 0),
        (38.910984807, 96.683773594, 0),
        (50.962168659, 98.508647847, 0),
        (60.921819416, 101.499292266, 0),
        (61.804499235, 105.878127499, 0),
        (73.502669184, 106.954991278, 0),
        (85.251859467, 106.245869167, 0),
        (86.21452058, 101.930598229, 0),
        (120.420287319, 99.780452187, 0),
        (156.771169517, 98.879807301, 0),
        (157.671814403, 55.381615657, 0),
        (157.497078938, 13.035997261, 0),
        (151.770196108, 5.638879321, 0),
        (144.453525054, -1.98521487, 0),
        (134.644643108, 5.020348625, 0),
        (118.657778957, 14.201615191, 0),
        (100.920289635, 16.974875944, 0),
        (81.860676395, 15.667027429, 0),
        (70.725838171, 14.602041008, 0),
    ]]
    fillet(fillet2_edges, radius=FILLET2_R)

    # Chamfer1
    chamfer1_edges = [part.edges().sort_by_distance(p)[0] for p in [
        (70.725838171, 14.602041008, 10),
        (81.860676395, 15.667027429, 10),
        (100.920289635, 16.974875944, 10),
        (118.657778957, 14.201615191, 10),
        (134.644643108, 5.020348625, 10),
        (144.453525054, -1.98521487, 10),
        (151.770196108, 5.638879321, 10),
        (157.497078938, 13.035997261, 10),
        (157.671814403, 55.381615657, 10),
        (156.771169517, 98.879807301, 10),
        (120.420287319, 99.780452187, 10),
        (86.21452058, 101.930598229, 10),
        (85.251859467, 106.245869167, 10),
        (73.502669184, 106.954991278, 10),
        (61.804499235, 105.878127499, 10),
        (60.921819416, 101.499292266, 10),
        (50.962168659, 98.508647847, 10),
        (38.910984807, 96.683773594, 10),
        (38.435645877, 90.681187654, 10),
        (19.669818465, 84.18500149, 10),
        (-1.383464331, 80.271537635, 10),
        (1.995761435, 49.772490739, 10),
        (7.157815869, 19.520564151, 10),
        (28.693989296, 21.655032978, 10),
        (54.402605163, 24.10044408, 10),
        (65.207858549, 19.569695723, 10),
    ]]
    chamfer(chamfer1_edges, length=CHAMFER1_SIZE)

    # Chamfer2
    chamfer2_edges = [part.edges().sort_by_distance(p)[0] for p in [
        (133.609220043, 21.546419059, 4),
        (123.651419288, 64.405450202, 4),
        (72.396727591, 41.005447941, 4),
        (62.89672322, 84.705447078, 4),
        (21.433961897, 62.250653675, 4),
        (24.078249626, 43.435558637, 4),
    ]]
    chamfer(chamfer2_edges, length=CHAMFER2_SIZE)


solid = part.part
